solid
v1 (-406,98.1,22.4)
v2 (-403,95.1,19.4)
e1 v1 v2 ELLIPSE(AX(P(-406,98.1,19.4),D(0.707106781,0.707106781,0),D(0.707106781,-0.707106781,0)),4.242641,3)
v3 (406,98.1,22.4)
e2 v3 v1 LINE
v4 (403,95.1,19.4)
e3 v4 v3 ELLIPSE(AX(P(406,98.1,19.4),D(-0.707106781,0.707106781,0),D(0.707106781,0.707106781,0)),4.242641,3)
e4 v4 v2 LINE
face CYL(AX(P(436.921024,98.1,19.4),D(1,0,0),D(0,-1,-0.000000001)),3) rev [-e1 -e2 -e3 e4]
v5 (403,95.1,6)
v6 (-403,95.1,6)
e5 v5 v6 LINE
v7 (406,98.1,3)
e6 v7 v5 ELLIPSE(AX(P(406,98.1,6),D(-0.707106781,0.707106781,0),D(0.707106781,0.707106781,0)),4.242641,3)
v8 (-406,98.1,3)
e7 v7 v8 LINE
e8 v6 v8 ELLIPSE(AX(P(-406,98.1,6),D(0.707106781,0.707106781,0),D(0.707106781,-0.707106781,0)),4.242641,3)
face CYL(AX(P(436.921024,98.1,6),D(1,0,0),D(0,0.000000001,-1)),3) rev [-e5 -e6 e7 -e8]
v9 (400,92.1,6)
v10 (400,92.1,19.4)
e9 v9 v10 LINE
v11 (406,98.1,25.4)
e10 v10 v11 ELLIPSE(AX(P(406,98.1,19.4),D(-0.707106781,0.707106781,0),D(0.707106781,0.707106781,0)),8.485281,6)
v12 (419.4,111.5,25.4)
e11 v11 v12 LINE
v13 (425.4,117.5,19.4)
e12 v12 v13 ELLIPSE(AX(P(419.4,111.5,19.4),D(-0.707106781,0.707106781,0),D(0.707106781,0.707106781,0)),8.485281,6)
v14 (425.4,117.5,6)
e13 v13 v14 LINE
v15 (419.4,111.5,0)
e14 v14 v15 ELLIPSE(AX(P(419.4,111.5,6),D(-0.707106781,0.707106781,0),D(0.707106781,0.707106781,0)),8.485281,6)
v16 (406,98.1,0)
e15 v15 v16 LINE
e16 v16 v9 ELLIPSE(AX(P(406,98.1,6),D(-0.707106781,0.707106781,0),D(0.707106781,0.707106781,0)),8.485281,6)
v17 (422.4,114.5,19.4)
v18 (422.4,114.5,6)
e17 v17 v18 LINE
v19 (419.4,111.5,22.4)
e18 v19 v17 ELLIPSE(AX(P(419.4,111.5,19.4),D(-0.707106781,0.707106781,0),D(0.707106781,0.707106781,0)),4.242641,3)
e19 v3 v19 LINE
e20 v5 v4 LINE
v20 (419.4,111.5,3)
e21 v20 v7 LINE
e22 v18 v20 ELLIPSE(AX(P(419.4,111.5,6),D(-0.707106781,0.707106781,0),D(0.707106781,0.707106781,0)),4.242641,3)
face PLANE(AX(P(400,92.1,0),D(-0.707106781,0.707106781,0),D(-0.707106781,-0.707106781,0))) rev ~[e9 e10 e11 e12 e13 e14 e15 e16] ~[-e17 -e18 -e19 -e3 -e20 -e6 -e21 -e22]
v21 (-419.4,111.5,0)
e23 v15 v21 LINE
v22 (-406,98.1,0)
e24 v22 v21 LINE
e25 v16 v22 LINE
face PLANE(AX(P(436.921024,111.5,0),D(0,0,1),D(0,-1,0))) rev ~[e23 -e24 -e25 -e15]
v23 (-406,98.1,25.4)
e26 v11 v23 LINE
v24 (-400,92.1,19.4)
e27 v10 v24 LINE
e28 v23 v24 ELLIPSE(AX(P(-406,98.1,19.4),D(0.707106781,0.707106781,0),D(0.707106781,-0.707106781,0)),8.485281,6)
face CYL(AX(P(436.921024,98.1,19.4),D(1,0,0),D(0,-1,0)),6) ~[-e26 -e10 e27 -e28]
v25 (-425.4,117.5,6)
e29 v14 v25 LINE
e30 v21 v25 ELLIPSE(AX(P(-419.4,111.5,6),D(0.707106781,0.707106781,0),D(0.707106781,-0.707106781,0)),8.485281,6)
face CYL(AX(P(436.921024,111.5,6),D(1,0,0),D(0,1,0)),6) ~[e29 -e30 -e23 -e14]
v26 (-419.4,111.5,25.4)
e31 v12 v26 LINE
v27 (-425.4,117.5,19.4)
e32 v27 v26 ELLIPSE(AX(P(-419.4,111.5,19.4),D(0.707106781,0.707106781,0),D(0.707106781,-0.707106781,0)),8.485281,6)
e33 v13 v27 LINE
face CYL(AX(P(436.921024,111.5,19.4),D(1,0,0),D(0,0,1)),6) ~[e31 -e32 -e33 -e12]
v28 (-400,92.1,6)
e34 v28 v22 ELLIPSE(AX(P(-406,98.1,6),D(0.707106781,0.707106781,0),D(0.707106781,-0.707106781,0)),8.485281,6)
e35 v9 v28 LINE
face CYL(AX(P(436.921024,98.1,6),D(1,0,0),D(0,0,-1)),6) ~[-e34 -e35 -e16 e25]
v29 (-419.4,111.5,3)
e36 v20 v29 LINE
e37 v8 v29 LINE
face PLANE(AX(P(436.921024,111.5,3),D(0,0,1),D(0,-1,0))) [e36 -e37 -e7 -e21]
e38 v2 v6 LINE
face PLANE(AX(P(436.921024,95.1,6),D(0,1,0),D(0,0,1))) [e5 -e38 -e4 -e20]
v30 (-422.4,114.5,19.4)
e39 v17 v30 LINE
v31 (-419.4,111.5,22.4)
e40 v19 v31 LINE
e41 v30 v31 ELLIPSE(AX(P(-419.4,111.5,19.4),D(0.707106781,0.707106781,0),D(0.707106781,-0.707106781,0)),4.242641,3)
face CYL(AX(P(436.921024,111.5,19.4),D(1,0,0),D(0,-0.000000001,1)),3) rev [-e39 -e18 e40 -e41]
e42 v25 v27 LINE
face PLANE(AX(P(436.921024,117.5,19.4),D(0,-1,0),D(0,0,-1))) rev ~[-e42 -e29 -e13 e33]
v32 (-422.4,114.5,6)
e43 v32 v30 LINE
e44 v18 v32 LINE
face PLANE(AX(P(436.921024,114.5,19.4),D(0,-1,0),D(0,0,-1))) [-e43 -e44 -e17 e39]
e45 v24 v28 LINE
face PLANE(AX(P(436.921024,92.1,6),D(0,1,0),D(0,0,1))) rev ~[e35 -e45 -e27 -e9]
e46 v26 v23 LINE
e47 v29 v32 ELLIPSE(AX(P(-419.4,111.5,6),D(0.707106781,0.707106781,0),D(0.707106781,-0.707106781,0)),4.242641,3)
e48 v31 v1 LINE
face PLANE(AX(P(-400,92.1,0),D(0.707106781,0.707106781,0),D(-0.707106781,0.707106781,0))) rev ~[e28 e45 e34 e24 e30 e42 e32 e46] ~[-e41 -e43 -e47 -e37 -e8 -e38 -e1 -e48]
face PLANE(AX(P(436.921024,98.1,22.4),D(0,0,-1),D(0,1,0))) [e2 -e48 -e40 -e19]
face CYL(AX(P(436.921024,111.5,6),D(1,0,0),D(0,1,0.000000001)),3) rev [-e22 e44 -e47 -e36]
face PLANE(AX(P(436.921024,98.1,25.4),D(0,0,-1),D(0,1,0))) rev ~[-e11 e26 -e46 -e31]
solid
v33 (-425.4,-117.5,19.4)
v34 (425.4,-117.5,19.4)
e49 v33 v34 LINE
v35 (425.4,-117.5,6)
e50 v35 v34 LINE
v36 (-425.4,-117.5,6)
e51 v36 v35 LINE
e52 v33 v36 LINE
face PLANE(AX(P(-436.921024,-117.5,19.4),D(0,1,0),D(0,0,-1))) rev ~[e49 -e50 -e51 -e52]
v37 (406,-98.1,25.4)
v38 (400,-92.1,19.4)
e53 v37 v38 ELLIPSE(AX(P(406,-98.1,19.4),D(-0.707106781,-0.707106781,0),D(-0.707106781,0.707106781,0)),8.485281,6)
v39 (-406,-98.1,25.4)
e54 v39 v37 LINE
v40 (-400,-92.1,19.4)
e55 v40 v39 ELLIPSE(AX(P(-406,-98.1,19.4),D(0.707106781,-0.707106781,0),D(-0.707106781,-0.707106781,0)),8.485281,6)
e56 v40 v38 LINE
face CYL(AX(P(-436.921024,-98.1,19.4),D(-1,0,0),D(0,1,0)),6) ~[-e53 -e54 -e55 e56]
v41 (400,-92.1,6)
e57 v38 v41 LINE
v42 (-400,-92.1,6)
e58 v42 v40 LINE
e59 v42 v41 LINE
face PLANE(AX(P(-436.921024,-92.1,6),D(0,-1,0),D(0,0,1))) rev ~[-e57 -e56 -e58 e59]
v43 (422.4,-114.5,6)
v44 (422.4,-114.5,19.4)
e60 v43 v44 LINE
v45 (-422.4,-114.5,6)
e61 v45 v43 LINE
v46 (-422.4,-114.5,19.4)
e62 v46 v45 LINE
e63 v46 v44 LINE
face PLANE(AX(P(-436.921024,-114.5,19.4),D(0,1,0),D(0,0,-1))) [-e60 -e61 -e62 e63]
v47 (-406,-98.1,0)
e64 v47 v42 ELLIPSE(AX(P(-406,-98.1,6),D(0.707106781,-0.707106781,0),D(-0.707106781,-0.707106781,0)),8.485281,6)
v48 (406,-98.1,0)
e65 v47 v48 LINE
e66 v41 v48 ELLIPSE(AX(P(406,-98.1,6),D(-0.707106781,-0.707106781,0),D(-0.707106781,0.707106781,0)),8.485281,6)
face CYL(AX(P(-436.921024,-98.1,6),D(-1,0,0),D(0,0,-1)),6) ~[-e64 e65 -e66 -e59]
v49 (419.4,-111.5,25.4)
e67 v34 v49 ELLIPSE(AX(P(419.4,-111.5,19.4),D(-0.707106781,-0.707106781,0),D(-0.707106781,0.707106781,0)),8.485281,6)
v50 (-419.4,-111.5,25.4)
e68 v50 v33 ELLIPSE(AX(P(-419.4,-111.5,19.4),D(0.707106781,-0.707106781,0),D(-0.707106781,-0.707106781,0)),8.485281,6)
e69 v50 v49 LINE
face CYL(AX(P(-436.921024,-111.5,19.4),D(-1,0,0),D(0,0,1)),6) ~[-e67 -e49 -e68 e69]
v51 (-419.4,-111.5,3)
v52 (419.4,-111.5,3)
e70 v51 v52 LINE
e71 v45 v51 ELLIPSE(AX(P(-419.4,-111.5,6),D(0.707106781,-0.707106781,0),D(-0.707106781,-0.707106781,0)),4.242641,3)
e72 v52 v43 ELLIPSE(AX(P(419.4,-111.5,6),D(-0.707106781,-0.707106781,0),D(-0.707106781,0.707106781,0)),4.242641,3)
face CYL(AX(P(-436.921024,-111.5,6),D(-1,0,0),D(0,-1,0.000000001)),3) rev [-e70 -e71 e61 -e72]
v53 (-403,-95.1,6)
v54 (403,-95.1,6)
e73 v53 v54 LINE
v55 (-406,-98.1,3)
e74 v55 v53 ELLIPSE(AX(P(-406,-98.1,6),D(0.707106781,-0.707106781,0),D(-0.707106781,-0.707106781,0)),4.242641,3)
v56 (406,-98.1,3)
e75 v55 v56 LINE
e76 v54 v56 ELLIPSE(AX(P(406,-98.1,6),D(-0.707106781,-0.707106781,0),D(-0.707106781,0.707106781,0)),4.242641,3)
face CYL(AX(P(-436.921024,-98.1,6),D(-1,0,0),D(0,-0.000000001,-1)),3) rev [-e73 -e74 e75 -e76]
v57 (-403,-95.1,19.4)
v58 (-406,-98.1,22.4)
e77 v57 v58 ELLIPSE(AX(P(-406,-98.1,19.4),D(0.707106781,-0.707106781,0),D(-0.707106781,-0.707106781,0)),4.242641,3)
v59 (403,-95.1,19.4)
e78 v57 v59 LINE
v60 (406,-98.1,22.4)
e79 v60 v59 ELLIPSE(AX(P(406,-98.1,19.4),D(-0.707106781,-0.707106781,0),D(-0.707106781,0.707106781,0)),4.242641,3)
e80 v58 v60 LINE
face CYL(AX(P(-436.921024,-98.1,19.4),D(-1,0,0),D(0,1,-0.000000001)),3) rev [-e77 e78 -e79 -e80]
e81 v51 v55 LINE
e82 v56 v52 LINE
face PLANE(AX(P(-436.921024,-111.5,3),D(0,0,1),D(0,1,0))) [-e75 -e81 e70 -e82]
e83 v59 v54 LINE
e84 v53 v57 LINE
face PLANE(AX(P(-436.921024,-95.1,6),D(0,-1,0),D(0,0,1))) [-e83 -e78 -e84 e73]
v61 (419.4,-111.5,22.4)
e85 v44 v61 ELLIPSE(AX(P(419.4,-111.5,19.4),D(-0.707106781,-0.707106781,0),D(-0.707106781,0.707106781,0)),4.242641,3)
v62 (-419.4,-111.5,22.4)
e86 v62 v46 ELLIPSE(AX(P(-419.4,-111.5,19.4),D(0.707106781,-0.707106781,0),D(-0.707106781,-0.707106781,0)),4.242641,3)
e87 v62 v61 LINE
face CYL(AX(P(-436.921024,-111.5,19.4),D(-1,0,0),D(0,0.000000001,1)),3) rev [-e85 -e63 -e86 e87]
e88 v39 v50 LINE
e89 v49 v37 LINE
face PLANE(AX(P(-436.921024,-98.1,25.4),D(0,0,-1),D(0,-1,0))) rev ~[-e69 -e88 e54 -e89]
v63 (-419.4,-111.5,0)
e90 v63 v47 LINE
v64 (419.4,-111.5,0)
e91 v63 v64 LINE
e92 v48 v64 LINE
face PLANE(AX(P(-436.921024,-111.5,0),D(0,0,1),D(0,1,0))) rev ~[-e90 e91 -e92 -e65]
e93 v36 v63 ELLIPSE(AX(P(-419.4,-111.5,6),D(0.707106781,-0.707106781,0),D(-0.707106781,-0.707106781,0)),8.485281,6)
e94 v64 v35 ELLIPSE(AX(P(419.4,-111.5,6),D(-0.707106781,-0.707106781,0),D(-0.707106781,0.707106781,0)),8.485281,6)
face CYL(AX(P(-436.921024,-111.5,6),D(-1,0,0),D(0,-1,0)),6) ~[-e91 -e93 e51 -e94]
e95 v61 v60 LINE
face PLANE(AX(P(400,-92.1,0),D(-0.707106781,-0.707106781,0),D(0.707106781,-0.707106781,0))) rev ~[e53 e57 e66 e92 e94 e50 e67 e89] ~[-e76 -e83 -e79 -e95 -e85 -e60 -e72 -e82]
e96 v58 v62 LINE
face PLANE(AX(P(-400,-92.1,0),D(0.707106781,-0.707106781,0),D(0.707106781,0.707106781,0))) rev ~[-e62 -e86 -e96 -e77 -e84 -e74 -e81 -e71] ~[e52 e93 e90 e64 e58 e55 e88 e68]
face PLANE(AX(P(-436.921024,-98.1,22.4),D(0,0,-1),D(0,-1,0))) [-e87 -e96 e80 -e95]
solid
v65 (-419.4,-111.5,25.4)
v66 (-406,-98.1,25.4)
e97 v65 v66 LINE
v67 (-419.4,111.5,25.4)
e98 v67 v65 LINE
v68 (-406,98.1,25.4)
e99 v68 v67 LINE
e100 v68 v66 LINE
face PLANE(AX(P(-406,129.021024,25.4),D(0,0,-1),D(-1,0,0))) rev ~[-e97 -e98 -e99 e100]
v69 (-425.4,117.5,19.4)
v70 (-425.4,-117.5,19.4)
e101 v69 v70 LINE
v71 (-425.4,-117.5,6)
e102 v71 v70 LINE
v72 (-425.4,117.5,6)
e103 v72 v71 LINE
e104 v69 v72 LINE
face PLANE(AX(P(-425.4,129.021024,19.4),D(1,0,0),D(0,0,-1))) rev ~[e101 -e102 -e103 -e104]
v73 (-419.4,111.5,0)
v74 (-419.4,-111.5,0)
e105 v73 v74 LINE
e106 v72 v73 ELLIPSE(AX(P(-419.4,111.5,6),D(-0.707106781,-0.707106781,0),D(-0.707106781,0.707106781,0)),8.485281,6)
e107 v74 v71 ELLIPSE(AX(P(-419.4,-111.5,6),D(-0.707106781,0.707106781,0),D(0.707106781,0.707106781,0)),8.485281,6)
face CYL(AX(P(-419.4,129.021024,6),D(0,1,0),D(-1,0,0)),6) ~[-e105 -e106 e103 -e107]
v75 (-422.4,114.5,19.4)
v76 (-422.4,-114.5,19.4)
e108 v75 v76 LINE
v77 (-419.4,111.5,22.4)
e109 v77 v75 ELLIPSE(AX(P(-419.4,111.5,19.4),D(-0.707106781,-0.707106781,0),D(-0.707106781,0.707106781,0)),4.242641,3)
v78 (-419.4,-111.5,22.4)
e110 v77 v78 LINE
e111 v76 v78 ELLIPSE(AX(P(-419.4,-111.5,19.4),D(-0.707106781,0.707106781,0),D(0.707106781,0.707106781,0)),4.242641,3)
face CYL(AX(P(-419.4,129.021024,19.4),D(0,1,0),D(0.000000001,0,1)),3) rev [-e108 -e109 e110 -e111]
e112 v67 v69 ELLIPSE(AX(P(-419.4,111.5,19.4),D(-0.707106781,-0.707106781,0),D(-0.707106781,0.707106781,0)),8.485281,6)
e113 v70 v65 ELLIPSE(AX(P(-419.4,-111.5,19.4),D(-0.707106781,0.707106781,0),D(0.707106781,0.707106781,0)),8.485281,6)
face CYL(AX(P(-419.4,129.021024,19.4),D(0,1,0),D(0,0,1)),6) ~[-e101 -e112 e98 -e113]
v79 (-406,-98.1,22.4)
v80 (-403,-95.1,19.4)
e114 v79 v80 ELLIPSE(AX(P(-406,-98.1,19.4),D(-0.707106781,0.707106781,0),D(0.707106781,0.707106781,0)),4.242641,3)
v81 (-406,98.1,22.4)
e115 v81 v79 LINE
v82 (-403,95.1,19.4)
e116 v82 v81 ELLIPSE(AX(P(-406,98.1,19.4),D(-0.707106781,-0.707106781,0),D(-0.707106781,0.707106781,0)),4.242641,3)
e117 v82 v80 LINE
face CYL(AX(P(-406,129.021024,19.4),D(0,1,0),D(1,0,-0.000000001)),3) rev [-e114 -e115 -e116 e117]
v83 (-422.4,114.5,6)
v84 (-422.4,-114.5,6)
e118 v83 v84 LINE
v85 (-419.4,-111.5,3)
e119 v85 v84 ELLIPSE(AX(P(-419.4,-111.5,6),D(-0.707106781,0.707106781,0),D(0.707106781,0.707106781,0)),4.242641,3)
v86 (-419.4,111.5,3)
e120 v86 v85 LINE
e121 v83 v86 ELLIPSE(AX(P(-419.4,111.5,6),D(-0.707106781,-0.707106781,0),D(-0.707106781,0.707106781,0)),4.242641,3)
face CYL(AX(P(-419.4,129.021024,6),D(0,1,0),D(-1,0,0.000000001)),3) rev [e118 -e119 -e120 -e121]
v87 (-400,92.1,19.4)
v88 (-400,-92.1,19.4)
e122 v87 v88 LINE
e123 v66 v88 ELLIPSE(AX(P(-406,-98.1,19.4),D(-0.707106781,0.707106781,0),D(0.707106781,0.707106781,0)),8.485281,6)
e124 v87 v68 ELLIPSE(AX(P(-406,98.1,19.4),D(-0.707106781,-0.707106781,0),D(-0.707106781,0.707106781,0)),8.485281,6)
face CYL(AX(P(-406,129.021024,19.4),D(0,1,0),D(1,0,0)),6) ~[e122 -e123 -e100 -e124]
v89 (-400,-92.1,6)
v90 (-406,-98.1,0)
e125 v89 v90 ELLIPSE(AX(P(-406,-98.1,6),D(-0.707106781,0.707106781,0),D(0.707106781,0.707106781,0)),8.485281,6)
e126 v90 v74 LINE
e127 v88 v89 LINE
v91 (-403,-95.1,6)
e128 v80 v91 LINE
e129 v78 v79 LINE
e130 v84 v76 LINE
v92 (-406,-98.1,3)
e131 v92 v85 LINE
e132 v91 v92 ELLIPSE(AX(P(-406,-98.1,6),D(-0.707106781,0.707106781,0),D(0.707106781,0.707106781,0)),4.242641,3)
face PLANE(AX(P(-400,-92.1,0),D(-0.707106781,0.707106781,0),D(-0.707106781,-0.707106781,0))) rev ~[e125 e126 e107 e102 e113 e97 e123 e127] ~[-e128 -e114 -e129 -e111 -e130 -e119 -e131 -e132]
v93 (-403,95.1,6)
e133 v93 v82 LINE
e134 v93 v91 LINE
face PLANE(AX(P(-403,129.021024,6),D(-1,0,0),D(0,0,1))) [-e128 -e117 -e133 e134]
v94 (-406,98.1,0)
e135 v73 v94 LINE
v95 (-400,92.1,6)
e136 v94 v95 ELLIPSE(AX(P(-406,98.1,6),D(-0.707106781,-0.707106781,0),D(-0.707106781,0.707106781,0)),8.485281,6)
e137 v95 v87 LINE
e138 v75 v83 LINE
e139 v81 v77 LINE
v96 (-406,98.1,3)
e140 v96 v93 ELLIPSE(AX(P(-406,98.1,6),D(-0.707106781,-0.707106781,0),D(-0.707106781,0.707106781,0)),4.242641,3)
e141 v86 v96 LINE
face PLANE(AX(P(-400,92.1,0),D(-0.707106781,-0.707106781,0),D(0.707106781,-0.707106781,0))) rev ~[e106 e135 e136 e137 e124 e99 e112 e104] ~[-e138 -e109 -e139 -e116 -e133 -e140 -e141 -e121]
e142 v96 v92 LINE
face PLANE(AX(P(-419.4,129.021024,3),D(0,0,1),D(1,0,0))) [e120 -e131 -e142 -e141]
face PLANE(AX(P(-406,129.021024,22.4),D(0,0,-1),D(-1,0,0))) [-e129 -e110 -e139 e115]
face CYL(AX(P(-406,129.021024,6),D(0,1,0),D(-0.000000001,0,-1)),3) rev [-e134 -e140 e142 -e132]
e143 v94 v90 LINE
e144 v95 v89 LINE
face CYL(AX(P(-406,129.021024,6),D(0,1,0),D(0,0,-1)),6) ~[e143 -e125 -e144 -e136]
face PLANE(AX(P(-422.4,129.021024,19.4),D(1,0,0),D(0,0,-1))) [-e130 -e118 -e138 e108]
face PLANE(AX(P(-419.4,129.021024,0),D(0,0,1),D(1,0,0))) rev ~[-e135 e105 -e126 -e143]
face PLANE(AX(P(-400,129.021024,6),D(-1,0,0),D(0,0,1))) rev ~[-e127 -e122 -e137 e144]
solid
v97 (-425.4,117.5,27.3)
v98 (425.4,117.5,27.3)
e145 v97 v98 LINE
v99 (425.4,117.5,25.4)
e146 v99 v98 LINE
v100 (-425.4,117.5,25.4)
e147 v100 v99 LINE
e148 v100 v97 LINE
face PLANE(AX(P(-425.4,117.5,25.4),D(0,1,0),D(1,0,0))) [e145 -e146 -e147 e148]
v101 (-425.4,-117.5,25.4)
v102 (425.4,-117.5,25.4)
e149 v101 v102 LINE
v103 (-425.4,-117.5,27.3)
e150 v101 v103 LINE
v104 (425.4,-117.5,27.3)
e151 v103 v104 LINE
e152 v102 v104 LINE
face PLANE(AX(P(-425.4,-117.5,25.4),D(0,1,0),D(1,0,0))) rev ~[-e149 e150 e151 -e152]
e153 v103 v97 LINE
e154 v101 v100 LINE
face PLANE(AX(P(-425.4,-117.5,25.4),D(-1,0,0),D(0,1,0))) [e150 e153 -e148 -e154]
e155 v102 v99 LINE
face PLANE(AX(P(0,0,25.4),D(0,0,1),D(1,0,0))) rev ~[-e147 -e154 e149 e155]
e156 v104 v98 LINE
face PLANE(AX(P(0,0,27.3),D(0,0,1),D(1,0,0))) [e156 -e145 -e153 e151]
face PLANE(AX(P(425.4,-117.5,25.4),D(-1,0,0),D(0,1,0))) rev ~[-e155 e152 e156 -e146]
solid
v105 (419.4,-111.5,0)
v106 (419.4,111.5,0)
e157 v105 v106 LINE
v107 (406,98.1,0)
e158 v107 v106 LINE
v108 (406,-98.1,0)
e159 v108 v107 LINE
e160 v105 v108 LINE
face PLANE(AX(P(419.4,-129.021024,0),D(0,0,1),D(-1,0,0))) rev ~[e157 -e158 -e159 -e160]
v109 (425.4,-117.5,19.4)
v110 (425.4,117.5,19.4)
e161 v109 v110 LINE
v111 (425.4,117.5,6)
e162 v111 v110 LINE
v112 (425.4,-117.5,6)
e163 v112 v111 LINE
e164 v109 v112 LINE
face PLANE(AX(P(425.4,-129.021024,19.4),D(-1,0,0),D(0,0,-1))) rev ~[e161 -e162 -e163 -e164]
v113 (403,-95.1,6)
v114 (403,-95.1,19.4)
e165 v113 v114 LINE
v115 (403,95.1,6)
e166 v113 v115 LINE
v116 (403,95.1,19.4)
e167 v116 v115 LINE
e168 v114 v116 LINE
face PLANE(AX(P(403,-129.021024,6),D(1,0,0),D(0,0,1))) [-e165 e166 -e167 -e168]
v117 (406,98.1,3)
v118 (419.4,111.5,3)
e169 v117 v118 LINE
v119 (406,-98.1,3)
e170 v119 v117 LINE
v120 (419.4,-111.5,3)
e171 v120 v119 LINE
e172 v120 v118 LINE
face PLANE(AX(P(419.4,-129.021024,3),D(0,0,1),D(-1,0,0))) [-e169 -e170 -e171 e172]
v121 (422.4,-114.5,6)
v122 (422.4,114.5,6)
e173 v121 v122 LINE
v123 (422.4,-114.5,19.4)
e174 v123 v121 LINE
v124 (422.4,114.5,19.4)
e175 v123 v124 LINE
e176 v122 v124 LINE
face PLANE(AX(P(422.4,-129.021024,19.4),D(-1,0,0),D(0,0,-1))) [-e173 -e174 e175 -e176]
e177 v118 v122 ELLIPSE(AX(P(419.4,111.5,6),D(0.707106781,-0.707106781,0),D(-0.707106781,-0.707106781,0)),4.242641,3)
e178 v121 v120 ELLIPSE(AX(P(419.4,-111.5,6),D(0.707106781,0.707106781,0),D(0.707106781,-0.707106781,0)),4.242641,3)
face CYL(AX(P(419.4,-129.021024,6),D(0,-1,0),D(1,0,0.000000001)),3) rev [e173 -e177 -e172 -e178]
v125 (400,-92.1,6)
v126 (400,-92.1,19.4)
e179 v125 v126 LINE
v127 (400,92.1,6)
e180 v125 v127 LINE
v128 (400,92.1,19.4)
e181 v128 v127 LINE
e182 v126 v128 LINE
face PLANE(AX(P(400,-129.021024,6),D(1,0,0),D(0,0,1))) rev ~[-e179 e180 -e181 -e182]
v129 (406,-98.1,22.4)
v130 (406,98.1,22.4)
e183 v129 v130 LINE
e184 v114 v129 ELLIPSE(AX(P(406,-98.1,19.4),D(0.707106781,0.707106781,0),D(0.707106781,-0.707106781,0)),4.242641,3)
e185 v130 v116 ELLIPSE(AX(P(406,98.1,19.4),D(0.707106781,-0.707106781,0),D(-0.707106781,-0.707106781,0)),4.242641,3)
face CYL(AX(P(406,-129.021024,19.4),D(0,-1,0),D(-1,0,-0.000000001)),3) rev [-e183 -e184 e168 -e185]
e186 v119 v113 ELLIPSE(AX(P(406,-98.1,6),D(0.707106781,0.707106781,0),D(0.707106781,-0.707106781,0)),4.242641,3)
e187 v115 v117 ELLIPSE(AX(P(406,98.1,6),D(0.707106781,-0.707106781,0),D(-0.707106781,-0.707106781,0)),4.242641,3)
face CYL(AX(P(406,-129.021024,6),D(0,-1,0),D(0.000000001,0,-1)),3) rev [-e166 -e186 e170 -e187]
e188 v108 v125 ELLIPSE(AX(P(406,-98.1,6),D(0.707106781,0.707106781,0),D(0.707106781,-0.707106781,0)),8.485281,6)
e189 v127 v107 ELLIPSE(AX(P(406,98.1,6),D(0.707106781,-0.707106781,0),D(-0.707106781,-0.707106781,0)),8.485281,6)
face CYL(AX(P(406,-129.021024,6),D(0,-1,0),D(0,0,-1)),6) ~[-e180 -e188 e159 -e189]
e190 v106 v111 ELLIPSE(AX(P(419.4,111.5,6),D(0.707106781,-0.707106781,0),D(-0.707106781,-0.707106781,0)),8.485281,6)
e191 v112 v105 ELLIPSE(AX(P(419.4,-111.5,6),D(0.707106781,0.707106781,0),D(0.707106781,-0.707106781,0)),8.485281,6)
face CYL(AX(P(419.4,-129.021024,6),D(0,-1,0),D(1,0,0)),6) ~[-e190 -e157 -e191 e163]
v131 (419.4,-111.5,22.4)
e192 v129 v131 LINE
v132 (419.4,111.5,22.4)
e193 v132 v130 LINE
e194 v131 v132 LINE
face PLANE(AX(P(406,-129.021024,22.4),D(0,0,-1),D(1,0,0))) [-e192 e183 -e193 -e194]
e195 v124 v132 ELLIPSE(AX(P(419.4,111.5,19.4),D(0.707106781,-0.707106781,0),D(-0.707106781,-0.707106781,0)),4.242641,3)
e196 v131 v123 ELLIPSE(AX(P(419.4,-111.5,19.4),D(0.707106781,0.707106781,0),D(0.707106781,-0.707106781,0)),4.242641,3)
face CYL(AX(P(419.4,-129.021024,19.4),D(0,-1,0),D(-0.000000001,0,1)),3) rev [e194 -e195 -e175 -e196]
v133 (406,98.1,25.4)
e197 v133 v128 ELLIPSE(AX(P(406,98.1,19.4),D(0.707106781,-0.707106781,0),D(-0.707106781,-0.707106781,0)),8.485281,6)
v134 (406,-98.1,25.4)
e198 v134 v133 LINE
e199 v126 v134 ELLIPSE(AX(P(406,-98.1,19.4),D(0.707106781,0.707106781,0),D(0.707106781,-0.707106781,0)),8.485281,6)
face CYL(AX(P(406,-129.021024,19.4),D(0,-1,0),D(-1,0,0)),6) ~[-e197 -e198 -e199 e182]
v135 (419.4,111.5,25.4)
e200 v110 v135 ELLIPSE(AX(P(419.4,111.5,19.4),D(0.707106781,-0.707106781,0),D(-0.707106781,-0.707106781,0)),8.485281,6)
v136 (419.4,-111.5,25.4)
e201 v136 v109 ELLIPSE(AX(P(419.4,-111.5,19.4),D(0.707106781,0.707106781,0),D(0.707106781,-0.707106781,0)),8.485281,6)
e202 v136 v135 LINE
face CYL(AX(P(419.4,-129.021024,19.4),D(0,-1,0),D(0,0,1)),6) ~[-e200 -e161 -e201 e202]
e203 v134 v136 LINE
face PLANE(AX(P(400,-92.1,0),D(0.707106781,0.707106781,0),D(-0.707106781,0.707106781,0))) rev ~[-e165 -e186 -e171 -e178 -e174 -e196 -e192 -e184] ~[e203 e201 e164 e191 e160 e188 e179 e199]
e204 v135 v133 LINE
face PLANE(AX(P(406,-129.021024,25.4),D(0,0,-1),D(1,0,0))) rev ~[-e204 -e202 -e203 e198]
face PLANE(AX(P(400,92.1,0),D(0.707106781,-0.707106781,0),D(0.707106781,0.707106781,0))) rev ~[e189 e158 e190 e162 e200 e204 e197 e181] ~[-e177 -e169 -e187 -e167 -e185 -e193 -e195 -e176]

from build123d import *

# Parameters (mm, degrees)
TUBO_CUADRADO_2_X_2_X_0_25_1_DEPTH      = 221.121024484
TUBO_CUADRADO_2_X_2_X_0_25_1_DEPTH_BACK = 36.921024484
TUBO_CUADRADO_2_X_2_X_0_25_1_2_DEPTH    = 873.842048969
TUBO_CUADRADO_2_X_2_X_0_25_1_3_DEPTH    = 258.042048969
TUBO_CUADRADO_2_X_2_X_0_25_1_4_DEPTH    = 873.842048969
CROQUIS3_W                              = 850.8
CROQUIS3_H                              = 235
SALIENTE_EXTRUIR1_DEPTH                 = 1.9


with BuildPart() as part:
    # Sketch1 → Tubo cuadrado 2 X 2 X 0.25(1) (new, two sides: drawn at the far end of the back side and taken through both)
    with BuildSketch(Plane(origin=(-412.7, 92.1, 12.7), x_dir=(1, 0, 0), z_dir=(0, -1, 0)).offset(-TUBO_CUADRADO_2_X_2_X_0_25_1_DEPTH_BACK)):
        with BuildLine():
            Line((-6.7, -12.7), (6.7, -12.7))
            ThreePointArc((6.7, -12.7), (10.942640687, -10.942640687), (12.7, -6.7))
            Line((12.7, -6.7), (12.7, 6.7))
            ThreePointArc((12.7, 6.7), (10.942640687, 10.942640687), (6.7, 12.7))
            Line((6.7, 12.7), (-6.7, 12.7))
            ThreePointArc((-6.7, 12.7), (-10.942640687, 10.942640687), (-12.7, 6.7))
            Line((-12.7, 6.7), (-12.7, -6.7))
            ThreePointArc((-12.7, -6.7), (-10.942640687, -10.942640687), (-6.7, -12.7))
        make_face()
        with BuildLine():
            Line((-6.7, -9.7), (6.7, -9.7))
            ThreePointArc((6.7, -9.7), (8.821320344, -8.821320344), (9.7, -6.7))
            Line((9.7, -6.7), (9.7, 6.7))
            ThreePointArc((9.7, 6.7), (8.821320344, 8.821320344), (6.7, 9.7))
            Line((6.7, 9.7), (-6.7, 9.7))
            ThreePointArc((-6.7, 9.7), (-8.821320344, 8.821320344), (-9.7, 6.7))
            Line((-9.7, 6.7), (-9.7, -6.7))
            ThreePointArc((-9.7, -6.7), (-8.821320344, -8.821320344), (-6.7, -9.7))
        make_face(mode=Mode.SUBTRACT)
    extrude(amount=TUBO_CUADRADO_2_X_2_X_0_25_1_DEPTH + TUBO_CUADRADO_2_X_2_X_0_25_1_DEPTH_BACK)

    # Tubo cuadrado 2 X 2 X 0.25(1) mitre 1
    split(bisect_by=Plane(origin=(-400, 92.1, 0), x_dir=(0.707106781, -0.707106781, 0), z_dir=(-0.707106781, -0.707106781, 0)), keep=Keep.TOP)

    # Tubo cuadrado 2 X 2 X 0.25(1) mitre 2
    split(bisect_by=Plane(origin=(-400, -92.1, 0), x_dir=(-0.707106781, -0.707106781, 0), z_dir=(-0.707106781, 0.707106781, 0)), keep=Keep.TOP)


with BuildPart() as body_2:
    # Sketch1 on segment 2 (carried to segment 2) → Tubo cuadrado 2 X 2 X 0.25_1 2 (new body)
    with BuildSketch(Plane(origin=(-436.921024484, -104.8, 12.7), x_dir=(0, 1, 0), z_dir=(1, 0, 0))):
        with BuildLine():
            Line((-6.7, -12.7), (6.7, -12.7))
            ThreePointArc((6.7, -12.7), (10.942640687, -10.942640687), (12.7, -6.7))
            Line((12.7, -6.7), (12.7, 6.7))
            ThreePointArc((12.7, 6.7), (10.942640687, 10.942640687), (6.7, 12.7))
            Line((6.7, 12.7), (-6.7, 12.7))
            ThreePointArc((-6.7, 12.7), (-10.942640687, 10.942640687), (-12.7, 6.7))
            Line((-12.7, 6.7), (-12.7, -6.7))
            ThreePointArc((-12.7, -6.7), (-10.942640687, -10.942640687), (-6.7, -12.7))
        make_face()
        with BuildLine():
            Line((-6.7, -9.7), (6.7, -9.7))
            ThreePointArc((6.7, -9.7), (8.821320344, -8.821320344), (9.7, -6.7))
            Line((9.7, -6.7), (9.7, 6.7))
            ThreePointArc((9.7, 6.7), (8.821320344, 8.821320344), (6.7, 9.7))
            Line((6.7, 9.7), (-6.7, 9.7))
            ThreePointArc((-6.7, 9.7), (-8.821320344, 8.821320344), (-9.7, 6.7))
            Line((-9.7, 6.7), (-9.7, -6.7))
            ThreePointArc((-9.7, -6.7), (-8.821320344, -8.821320344), (-6.7, -9.7))
        make_face(mode=Mode.SUBTRACT)
    extrude(amount=TUBO_CUADRADO_2_X_2_X_0_25_1_2_DEPTH)

    # Tubo cuadrado 2 X 2 X 0.25_1 2 mitre 1
    split(bisect_by=Plane(origin=(-400, -92.1, 0), x_dir=(0.707106781, 0.707106781, 0), z_dir=(0.707106781, -0.707106781, 0)), keep=Keep.TOP)

    # Tubo cuadrado 2 X 2 X 0.25_1 2 mitre 2
    split(bisect_by=Plane(origin=(400, -92.1, 0), x_dir=(0.707106781, -0.707106781, 0), z_dir=(-0.707106781, -0.707106781, 0)), keep=Keep.TOP)


with BuildPart() as body_3:
    # Sketch1 on segment 3 (carried to segment 3) → Tubo cuadrado 2 X 2 X 0.25_1 3 (new body)
    with BuildSketch(Plane(origin=(412.7, -129.021024484, 12.7), x_dir=(-1, 0, 0), z_dir=(0, 1, 0))):
        with BuildLine():
            Line((-6.7, -12.7), (6.7, -12.7))
            ThreePointArc((6.7, -12.7), (10.942640687, -10.942640687), (12.7, -6.7))
            Line((12.7, -6.7), (12.7, 6.7))
            ThreePointArc((12.7, 6.7), (10.942640687, 10.942640687), (6.7, 12.7))
            Line((6.7, 12.7), (-6.7, 12.7))
            ThreePointArc((-6.7, 12.7), (-10.942640687, 10.942640687), (-12.7, 6.7))
            Line((-12.7, 6.7), (-12.7, -6.7))
            ThreePointArc((-12.7, -6.7), (-10.942640687, -10.942640687), (-6.7, -12.7))
        make_face()
        with BuildLine():
            Line((-6.7, -9.7), (6.7, -9.7))
            ThreePointArc((6.7, -9.7), (8.821320344, -8.821320344), (9.7, -6.7))
            Line((9.7, -6.7), (9.7, 6.7))
            ThreePointArc((9.7, 6.7), (8.821320344, 8.821320344), (6.7, 9.7))
            Line((6.7, 9.7), (-6.7, 9.7))
            ThreePointArc((-6.7, 9.7), (-8.821320344, 8.821320344), (-9.7, 6.7))
            Line((-9.7, 6.7), (-9.7, -6.7))
            ThreePointArc((-9.7, -6.7), (-8.821320344, -8.821320344), (-6.7, -9.7))
        make_face(mode=Mode.SUBTRACT)
    extrude(amount=TUBO_CUADRADO_2_X_2_X_0_25_1_3_DEPTH)

    # Tubo cuadrado 2 X 2 X 0.25_1 3 mitre 1
    split(bisect_by=Plane(origin=(400, 92.1, 0), x_dir=(0.707106781, 0.707106781, 0), z_dir=(0.707106781, -0.707106781, 0)), keep=Keep.TOP)

    # Tubo cuadrado 2 X 2 X 0.25_1 3 mitre 2
    split(bisect_by=Plane(origin=(400, -92.1, 0), x_dir=(-0.707106781, 0.707106781, 0), z_dir=(0.707106781, 0.707106781, 0)), keep=Keep.TOP)


with BuildPart() as body_4:
    # Sketch1 on segment 4 (carried to segment 4) → Tubo cuadrado 2 X 2 X 0.25_1 4 (new body)
    with BuildSketch(Plane(origin=(436.921024484, 104.8, 12.7), x_dir=(0, -1, 0), z_dir=(-1, 0, 0))):
        with BuildLine():
            Line((-6.7, -12.7), (6.7, -12.7))
            ThreePointArc((6.7, -12.7), (10.942640687, -10.942640687), (12.7, -6.7))
            Line((12.7, -6.7), (12.7, 6.7))
            ThreePointArc((12.7, 6.7), (10.942640687, 10.942640687), (6.7, 12.7))
            Line((6.7, 12.7), (-6.7, 12.7))
            ThreePointArc((-6.7, 12.7), (-10.942640687, 10.942640687), (-12.7, 6.7))
            Line((-12.7, 6.7), (-12.7, -6.7))
            ThreePointArc((-12.7, -6.7), (-10.942640687, -10.942640687), (-6.7, -12.7))
        make_face()
        with BuildLine():
            Line((-6.7, -9.7), (6.7, -9.7))
            ThreePointArc((6.7, -9.7), (8.821320344, -8.821320344), (9.7, -6.7))
            Line((9.7, -6.7), (9.7, 6.7))
            ThreePointArc((9.7, 6.7), (8.821320344, 8.821320344), (6.7, 9.7))
            Line((6.7, 9.7), (-6.7, 9.7))
            ThreePointArc((-6.7, 9.7), (-8.821320344, 8.821320344), (-9.7, 6.7))
            Line((-9.7, 6.7), (-9.7, -6.7))
            ThreePointArc((-9.7, -6.7), (-8.821320344, -8.821320344), (-6.7, -9.7))
        make_face(mode=Mode.SUBTRACT)
    extrude(amount=TUBO_CUADRADO_2_X_2_X_0_25_1_4_DEPTH)

    # Tubo cuadrado 2 X 2 X 0.25_1 4 mitre 1
    split(bisect_by=Plane(origin=(-400, 92.1, 0), x_dir=(-0.707106781, 0.707106781, 0), z_dir=(0.707106781, 0.707106781, 0)), keep=Keep.TOP)

    # Tubo cuadrado 2 X 2 X 0.25_1 4 mitre 2
    split(bisect_by=Plane(origin=(400, 92.1, 0), x_dir=(-0.707106781, -0.707106781, 0), z_dir=(-0.707106781, 0.707106781, 0)), keep=Keep.TOP)


with BuildPart() as body_5:
    # Croquis3 → Saliente-Extruir1 (new body)
    with BuildSketch(Plane.XY.offset(25.4)):
        Rectangle(CROQUIS3_W, CROQUIS3_H)
    extrude(amount=SALIENTE_EXTRUIR1_DEPTH)


solid = Compound([part.part, body_2.part, body_3.part, body_4.part, body_5.part])
